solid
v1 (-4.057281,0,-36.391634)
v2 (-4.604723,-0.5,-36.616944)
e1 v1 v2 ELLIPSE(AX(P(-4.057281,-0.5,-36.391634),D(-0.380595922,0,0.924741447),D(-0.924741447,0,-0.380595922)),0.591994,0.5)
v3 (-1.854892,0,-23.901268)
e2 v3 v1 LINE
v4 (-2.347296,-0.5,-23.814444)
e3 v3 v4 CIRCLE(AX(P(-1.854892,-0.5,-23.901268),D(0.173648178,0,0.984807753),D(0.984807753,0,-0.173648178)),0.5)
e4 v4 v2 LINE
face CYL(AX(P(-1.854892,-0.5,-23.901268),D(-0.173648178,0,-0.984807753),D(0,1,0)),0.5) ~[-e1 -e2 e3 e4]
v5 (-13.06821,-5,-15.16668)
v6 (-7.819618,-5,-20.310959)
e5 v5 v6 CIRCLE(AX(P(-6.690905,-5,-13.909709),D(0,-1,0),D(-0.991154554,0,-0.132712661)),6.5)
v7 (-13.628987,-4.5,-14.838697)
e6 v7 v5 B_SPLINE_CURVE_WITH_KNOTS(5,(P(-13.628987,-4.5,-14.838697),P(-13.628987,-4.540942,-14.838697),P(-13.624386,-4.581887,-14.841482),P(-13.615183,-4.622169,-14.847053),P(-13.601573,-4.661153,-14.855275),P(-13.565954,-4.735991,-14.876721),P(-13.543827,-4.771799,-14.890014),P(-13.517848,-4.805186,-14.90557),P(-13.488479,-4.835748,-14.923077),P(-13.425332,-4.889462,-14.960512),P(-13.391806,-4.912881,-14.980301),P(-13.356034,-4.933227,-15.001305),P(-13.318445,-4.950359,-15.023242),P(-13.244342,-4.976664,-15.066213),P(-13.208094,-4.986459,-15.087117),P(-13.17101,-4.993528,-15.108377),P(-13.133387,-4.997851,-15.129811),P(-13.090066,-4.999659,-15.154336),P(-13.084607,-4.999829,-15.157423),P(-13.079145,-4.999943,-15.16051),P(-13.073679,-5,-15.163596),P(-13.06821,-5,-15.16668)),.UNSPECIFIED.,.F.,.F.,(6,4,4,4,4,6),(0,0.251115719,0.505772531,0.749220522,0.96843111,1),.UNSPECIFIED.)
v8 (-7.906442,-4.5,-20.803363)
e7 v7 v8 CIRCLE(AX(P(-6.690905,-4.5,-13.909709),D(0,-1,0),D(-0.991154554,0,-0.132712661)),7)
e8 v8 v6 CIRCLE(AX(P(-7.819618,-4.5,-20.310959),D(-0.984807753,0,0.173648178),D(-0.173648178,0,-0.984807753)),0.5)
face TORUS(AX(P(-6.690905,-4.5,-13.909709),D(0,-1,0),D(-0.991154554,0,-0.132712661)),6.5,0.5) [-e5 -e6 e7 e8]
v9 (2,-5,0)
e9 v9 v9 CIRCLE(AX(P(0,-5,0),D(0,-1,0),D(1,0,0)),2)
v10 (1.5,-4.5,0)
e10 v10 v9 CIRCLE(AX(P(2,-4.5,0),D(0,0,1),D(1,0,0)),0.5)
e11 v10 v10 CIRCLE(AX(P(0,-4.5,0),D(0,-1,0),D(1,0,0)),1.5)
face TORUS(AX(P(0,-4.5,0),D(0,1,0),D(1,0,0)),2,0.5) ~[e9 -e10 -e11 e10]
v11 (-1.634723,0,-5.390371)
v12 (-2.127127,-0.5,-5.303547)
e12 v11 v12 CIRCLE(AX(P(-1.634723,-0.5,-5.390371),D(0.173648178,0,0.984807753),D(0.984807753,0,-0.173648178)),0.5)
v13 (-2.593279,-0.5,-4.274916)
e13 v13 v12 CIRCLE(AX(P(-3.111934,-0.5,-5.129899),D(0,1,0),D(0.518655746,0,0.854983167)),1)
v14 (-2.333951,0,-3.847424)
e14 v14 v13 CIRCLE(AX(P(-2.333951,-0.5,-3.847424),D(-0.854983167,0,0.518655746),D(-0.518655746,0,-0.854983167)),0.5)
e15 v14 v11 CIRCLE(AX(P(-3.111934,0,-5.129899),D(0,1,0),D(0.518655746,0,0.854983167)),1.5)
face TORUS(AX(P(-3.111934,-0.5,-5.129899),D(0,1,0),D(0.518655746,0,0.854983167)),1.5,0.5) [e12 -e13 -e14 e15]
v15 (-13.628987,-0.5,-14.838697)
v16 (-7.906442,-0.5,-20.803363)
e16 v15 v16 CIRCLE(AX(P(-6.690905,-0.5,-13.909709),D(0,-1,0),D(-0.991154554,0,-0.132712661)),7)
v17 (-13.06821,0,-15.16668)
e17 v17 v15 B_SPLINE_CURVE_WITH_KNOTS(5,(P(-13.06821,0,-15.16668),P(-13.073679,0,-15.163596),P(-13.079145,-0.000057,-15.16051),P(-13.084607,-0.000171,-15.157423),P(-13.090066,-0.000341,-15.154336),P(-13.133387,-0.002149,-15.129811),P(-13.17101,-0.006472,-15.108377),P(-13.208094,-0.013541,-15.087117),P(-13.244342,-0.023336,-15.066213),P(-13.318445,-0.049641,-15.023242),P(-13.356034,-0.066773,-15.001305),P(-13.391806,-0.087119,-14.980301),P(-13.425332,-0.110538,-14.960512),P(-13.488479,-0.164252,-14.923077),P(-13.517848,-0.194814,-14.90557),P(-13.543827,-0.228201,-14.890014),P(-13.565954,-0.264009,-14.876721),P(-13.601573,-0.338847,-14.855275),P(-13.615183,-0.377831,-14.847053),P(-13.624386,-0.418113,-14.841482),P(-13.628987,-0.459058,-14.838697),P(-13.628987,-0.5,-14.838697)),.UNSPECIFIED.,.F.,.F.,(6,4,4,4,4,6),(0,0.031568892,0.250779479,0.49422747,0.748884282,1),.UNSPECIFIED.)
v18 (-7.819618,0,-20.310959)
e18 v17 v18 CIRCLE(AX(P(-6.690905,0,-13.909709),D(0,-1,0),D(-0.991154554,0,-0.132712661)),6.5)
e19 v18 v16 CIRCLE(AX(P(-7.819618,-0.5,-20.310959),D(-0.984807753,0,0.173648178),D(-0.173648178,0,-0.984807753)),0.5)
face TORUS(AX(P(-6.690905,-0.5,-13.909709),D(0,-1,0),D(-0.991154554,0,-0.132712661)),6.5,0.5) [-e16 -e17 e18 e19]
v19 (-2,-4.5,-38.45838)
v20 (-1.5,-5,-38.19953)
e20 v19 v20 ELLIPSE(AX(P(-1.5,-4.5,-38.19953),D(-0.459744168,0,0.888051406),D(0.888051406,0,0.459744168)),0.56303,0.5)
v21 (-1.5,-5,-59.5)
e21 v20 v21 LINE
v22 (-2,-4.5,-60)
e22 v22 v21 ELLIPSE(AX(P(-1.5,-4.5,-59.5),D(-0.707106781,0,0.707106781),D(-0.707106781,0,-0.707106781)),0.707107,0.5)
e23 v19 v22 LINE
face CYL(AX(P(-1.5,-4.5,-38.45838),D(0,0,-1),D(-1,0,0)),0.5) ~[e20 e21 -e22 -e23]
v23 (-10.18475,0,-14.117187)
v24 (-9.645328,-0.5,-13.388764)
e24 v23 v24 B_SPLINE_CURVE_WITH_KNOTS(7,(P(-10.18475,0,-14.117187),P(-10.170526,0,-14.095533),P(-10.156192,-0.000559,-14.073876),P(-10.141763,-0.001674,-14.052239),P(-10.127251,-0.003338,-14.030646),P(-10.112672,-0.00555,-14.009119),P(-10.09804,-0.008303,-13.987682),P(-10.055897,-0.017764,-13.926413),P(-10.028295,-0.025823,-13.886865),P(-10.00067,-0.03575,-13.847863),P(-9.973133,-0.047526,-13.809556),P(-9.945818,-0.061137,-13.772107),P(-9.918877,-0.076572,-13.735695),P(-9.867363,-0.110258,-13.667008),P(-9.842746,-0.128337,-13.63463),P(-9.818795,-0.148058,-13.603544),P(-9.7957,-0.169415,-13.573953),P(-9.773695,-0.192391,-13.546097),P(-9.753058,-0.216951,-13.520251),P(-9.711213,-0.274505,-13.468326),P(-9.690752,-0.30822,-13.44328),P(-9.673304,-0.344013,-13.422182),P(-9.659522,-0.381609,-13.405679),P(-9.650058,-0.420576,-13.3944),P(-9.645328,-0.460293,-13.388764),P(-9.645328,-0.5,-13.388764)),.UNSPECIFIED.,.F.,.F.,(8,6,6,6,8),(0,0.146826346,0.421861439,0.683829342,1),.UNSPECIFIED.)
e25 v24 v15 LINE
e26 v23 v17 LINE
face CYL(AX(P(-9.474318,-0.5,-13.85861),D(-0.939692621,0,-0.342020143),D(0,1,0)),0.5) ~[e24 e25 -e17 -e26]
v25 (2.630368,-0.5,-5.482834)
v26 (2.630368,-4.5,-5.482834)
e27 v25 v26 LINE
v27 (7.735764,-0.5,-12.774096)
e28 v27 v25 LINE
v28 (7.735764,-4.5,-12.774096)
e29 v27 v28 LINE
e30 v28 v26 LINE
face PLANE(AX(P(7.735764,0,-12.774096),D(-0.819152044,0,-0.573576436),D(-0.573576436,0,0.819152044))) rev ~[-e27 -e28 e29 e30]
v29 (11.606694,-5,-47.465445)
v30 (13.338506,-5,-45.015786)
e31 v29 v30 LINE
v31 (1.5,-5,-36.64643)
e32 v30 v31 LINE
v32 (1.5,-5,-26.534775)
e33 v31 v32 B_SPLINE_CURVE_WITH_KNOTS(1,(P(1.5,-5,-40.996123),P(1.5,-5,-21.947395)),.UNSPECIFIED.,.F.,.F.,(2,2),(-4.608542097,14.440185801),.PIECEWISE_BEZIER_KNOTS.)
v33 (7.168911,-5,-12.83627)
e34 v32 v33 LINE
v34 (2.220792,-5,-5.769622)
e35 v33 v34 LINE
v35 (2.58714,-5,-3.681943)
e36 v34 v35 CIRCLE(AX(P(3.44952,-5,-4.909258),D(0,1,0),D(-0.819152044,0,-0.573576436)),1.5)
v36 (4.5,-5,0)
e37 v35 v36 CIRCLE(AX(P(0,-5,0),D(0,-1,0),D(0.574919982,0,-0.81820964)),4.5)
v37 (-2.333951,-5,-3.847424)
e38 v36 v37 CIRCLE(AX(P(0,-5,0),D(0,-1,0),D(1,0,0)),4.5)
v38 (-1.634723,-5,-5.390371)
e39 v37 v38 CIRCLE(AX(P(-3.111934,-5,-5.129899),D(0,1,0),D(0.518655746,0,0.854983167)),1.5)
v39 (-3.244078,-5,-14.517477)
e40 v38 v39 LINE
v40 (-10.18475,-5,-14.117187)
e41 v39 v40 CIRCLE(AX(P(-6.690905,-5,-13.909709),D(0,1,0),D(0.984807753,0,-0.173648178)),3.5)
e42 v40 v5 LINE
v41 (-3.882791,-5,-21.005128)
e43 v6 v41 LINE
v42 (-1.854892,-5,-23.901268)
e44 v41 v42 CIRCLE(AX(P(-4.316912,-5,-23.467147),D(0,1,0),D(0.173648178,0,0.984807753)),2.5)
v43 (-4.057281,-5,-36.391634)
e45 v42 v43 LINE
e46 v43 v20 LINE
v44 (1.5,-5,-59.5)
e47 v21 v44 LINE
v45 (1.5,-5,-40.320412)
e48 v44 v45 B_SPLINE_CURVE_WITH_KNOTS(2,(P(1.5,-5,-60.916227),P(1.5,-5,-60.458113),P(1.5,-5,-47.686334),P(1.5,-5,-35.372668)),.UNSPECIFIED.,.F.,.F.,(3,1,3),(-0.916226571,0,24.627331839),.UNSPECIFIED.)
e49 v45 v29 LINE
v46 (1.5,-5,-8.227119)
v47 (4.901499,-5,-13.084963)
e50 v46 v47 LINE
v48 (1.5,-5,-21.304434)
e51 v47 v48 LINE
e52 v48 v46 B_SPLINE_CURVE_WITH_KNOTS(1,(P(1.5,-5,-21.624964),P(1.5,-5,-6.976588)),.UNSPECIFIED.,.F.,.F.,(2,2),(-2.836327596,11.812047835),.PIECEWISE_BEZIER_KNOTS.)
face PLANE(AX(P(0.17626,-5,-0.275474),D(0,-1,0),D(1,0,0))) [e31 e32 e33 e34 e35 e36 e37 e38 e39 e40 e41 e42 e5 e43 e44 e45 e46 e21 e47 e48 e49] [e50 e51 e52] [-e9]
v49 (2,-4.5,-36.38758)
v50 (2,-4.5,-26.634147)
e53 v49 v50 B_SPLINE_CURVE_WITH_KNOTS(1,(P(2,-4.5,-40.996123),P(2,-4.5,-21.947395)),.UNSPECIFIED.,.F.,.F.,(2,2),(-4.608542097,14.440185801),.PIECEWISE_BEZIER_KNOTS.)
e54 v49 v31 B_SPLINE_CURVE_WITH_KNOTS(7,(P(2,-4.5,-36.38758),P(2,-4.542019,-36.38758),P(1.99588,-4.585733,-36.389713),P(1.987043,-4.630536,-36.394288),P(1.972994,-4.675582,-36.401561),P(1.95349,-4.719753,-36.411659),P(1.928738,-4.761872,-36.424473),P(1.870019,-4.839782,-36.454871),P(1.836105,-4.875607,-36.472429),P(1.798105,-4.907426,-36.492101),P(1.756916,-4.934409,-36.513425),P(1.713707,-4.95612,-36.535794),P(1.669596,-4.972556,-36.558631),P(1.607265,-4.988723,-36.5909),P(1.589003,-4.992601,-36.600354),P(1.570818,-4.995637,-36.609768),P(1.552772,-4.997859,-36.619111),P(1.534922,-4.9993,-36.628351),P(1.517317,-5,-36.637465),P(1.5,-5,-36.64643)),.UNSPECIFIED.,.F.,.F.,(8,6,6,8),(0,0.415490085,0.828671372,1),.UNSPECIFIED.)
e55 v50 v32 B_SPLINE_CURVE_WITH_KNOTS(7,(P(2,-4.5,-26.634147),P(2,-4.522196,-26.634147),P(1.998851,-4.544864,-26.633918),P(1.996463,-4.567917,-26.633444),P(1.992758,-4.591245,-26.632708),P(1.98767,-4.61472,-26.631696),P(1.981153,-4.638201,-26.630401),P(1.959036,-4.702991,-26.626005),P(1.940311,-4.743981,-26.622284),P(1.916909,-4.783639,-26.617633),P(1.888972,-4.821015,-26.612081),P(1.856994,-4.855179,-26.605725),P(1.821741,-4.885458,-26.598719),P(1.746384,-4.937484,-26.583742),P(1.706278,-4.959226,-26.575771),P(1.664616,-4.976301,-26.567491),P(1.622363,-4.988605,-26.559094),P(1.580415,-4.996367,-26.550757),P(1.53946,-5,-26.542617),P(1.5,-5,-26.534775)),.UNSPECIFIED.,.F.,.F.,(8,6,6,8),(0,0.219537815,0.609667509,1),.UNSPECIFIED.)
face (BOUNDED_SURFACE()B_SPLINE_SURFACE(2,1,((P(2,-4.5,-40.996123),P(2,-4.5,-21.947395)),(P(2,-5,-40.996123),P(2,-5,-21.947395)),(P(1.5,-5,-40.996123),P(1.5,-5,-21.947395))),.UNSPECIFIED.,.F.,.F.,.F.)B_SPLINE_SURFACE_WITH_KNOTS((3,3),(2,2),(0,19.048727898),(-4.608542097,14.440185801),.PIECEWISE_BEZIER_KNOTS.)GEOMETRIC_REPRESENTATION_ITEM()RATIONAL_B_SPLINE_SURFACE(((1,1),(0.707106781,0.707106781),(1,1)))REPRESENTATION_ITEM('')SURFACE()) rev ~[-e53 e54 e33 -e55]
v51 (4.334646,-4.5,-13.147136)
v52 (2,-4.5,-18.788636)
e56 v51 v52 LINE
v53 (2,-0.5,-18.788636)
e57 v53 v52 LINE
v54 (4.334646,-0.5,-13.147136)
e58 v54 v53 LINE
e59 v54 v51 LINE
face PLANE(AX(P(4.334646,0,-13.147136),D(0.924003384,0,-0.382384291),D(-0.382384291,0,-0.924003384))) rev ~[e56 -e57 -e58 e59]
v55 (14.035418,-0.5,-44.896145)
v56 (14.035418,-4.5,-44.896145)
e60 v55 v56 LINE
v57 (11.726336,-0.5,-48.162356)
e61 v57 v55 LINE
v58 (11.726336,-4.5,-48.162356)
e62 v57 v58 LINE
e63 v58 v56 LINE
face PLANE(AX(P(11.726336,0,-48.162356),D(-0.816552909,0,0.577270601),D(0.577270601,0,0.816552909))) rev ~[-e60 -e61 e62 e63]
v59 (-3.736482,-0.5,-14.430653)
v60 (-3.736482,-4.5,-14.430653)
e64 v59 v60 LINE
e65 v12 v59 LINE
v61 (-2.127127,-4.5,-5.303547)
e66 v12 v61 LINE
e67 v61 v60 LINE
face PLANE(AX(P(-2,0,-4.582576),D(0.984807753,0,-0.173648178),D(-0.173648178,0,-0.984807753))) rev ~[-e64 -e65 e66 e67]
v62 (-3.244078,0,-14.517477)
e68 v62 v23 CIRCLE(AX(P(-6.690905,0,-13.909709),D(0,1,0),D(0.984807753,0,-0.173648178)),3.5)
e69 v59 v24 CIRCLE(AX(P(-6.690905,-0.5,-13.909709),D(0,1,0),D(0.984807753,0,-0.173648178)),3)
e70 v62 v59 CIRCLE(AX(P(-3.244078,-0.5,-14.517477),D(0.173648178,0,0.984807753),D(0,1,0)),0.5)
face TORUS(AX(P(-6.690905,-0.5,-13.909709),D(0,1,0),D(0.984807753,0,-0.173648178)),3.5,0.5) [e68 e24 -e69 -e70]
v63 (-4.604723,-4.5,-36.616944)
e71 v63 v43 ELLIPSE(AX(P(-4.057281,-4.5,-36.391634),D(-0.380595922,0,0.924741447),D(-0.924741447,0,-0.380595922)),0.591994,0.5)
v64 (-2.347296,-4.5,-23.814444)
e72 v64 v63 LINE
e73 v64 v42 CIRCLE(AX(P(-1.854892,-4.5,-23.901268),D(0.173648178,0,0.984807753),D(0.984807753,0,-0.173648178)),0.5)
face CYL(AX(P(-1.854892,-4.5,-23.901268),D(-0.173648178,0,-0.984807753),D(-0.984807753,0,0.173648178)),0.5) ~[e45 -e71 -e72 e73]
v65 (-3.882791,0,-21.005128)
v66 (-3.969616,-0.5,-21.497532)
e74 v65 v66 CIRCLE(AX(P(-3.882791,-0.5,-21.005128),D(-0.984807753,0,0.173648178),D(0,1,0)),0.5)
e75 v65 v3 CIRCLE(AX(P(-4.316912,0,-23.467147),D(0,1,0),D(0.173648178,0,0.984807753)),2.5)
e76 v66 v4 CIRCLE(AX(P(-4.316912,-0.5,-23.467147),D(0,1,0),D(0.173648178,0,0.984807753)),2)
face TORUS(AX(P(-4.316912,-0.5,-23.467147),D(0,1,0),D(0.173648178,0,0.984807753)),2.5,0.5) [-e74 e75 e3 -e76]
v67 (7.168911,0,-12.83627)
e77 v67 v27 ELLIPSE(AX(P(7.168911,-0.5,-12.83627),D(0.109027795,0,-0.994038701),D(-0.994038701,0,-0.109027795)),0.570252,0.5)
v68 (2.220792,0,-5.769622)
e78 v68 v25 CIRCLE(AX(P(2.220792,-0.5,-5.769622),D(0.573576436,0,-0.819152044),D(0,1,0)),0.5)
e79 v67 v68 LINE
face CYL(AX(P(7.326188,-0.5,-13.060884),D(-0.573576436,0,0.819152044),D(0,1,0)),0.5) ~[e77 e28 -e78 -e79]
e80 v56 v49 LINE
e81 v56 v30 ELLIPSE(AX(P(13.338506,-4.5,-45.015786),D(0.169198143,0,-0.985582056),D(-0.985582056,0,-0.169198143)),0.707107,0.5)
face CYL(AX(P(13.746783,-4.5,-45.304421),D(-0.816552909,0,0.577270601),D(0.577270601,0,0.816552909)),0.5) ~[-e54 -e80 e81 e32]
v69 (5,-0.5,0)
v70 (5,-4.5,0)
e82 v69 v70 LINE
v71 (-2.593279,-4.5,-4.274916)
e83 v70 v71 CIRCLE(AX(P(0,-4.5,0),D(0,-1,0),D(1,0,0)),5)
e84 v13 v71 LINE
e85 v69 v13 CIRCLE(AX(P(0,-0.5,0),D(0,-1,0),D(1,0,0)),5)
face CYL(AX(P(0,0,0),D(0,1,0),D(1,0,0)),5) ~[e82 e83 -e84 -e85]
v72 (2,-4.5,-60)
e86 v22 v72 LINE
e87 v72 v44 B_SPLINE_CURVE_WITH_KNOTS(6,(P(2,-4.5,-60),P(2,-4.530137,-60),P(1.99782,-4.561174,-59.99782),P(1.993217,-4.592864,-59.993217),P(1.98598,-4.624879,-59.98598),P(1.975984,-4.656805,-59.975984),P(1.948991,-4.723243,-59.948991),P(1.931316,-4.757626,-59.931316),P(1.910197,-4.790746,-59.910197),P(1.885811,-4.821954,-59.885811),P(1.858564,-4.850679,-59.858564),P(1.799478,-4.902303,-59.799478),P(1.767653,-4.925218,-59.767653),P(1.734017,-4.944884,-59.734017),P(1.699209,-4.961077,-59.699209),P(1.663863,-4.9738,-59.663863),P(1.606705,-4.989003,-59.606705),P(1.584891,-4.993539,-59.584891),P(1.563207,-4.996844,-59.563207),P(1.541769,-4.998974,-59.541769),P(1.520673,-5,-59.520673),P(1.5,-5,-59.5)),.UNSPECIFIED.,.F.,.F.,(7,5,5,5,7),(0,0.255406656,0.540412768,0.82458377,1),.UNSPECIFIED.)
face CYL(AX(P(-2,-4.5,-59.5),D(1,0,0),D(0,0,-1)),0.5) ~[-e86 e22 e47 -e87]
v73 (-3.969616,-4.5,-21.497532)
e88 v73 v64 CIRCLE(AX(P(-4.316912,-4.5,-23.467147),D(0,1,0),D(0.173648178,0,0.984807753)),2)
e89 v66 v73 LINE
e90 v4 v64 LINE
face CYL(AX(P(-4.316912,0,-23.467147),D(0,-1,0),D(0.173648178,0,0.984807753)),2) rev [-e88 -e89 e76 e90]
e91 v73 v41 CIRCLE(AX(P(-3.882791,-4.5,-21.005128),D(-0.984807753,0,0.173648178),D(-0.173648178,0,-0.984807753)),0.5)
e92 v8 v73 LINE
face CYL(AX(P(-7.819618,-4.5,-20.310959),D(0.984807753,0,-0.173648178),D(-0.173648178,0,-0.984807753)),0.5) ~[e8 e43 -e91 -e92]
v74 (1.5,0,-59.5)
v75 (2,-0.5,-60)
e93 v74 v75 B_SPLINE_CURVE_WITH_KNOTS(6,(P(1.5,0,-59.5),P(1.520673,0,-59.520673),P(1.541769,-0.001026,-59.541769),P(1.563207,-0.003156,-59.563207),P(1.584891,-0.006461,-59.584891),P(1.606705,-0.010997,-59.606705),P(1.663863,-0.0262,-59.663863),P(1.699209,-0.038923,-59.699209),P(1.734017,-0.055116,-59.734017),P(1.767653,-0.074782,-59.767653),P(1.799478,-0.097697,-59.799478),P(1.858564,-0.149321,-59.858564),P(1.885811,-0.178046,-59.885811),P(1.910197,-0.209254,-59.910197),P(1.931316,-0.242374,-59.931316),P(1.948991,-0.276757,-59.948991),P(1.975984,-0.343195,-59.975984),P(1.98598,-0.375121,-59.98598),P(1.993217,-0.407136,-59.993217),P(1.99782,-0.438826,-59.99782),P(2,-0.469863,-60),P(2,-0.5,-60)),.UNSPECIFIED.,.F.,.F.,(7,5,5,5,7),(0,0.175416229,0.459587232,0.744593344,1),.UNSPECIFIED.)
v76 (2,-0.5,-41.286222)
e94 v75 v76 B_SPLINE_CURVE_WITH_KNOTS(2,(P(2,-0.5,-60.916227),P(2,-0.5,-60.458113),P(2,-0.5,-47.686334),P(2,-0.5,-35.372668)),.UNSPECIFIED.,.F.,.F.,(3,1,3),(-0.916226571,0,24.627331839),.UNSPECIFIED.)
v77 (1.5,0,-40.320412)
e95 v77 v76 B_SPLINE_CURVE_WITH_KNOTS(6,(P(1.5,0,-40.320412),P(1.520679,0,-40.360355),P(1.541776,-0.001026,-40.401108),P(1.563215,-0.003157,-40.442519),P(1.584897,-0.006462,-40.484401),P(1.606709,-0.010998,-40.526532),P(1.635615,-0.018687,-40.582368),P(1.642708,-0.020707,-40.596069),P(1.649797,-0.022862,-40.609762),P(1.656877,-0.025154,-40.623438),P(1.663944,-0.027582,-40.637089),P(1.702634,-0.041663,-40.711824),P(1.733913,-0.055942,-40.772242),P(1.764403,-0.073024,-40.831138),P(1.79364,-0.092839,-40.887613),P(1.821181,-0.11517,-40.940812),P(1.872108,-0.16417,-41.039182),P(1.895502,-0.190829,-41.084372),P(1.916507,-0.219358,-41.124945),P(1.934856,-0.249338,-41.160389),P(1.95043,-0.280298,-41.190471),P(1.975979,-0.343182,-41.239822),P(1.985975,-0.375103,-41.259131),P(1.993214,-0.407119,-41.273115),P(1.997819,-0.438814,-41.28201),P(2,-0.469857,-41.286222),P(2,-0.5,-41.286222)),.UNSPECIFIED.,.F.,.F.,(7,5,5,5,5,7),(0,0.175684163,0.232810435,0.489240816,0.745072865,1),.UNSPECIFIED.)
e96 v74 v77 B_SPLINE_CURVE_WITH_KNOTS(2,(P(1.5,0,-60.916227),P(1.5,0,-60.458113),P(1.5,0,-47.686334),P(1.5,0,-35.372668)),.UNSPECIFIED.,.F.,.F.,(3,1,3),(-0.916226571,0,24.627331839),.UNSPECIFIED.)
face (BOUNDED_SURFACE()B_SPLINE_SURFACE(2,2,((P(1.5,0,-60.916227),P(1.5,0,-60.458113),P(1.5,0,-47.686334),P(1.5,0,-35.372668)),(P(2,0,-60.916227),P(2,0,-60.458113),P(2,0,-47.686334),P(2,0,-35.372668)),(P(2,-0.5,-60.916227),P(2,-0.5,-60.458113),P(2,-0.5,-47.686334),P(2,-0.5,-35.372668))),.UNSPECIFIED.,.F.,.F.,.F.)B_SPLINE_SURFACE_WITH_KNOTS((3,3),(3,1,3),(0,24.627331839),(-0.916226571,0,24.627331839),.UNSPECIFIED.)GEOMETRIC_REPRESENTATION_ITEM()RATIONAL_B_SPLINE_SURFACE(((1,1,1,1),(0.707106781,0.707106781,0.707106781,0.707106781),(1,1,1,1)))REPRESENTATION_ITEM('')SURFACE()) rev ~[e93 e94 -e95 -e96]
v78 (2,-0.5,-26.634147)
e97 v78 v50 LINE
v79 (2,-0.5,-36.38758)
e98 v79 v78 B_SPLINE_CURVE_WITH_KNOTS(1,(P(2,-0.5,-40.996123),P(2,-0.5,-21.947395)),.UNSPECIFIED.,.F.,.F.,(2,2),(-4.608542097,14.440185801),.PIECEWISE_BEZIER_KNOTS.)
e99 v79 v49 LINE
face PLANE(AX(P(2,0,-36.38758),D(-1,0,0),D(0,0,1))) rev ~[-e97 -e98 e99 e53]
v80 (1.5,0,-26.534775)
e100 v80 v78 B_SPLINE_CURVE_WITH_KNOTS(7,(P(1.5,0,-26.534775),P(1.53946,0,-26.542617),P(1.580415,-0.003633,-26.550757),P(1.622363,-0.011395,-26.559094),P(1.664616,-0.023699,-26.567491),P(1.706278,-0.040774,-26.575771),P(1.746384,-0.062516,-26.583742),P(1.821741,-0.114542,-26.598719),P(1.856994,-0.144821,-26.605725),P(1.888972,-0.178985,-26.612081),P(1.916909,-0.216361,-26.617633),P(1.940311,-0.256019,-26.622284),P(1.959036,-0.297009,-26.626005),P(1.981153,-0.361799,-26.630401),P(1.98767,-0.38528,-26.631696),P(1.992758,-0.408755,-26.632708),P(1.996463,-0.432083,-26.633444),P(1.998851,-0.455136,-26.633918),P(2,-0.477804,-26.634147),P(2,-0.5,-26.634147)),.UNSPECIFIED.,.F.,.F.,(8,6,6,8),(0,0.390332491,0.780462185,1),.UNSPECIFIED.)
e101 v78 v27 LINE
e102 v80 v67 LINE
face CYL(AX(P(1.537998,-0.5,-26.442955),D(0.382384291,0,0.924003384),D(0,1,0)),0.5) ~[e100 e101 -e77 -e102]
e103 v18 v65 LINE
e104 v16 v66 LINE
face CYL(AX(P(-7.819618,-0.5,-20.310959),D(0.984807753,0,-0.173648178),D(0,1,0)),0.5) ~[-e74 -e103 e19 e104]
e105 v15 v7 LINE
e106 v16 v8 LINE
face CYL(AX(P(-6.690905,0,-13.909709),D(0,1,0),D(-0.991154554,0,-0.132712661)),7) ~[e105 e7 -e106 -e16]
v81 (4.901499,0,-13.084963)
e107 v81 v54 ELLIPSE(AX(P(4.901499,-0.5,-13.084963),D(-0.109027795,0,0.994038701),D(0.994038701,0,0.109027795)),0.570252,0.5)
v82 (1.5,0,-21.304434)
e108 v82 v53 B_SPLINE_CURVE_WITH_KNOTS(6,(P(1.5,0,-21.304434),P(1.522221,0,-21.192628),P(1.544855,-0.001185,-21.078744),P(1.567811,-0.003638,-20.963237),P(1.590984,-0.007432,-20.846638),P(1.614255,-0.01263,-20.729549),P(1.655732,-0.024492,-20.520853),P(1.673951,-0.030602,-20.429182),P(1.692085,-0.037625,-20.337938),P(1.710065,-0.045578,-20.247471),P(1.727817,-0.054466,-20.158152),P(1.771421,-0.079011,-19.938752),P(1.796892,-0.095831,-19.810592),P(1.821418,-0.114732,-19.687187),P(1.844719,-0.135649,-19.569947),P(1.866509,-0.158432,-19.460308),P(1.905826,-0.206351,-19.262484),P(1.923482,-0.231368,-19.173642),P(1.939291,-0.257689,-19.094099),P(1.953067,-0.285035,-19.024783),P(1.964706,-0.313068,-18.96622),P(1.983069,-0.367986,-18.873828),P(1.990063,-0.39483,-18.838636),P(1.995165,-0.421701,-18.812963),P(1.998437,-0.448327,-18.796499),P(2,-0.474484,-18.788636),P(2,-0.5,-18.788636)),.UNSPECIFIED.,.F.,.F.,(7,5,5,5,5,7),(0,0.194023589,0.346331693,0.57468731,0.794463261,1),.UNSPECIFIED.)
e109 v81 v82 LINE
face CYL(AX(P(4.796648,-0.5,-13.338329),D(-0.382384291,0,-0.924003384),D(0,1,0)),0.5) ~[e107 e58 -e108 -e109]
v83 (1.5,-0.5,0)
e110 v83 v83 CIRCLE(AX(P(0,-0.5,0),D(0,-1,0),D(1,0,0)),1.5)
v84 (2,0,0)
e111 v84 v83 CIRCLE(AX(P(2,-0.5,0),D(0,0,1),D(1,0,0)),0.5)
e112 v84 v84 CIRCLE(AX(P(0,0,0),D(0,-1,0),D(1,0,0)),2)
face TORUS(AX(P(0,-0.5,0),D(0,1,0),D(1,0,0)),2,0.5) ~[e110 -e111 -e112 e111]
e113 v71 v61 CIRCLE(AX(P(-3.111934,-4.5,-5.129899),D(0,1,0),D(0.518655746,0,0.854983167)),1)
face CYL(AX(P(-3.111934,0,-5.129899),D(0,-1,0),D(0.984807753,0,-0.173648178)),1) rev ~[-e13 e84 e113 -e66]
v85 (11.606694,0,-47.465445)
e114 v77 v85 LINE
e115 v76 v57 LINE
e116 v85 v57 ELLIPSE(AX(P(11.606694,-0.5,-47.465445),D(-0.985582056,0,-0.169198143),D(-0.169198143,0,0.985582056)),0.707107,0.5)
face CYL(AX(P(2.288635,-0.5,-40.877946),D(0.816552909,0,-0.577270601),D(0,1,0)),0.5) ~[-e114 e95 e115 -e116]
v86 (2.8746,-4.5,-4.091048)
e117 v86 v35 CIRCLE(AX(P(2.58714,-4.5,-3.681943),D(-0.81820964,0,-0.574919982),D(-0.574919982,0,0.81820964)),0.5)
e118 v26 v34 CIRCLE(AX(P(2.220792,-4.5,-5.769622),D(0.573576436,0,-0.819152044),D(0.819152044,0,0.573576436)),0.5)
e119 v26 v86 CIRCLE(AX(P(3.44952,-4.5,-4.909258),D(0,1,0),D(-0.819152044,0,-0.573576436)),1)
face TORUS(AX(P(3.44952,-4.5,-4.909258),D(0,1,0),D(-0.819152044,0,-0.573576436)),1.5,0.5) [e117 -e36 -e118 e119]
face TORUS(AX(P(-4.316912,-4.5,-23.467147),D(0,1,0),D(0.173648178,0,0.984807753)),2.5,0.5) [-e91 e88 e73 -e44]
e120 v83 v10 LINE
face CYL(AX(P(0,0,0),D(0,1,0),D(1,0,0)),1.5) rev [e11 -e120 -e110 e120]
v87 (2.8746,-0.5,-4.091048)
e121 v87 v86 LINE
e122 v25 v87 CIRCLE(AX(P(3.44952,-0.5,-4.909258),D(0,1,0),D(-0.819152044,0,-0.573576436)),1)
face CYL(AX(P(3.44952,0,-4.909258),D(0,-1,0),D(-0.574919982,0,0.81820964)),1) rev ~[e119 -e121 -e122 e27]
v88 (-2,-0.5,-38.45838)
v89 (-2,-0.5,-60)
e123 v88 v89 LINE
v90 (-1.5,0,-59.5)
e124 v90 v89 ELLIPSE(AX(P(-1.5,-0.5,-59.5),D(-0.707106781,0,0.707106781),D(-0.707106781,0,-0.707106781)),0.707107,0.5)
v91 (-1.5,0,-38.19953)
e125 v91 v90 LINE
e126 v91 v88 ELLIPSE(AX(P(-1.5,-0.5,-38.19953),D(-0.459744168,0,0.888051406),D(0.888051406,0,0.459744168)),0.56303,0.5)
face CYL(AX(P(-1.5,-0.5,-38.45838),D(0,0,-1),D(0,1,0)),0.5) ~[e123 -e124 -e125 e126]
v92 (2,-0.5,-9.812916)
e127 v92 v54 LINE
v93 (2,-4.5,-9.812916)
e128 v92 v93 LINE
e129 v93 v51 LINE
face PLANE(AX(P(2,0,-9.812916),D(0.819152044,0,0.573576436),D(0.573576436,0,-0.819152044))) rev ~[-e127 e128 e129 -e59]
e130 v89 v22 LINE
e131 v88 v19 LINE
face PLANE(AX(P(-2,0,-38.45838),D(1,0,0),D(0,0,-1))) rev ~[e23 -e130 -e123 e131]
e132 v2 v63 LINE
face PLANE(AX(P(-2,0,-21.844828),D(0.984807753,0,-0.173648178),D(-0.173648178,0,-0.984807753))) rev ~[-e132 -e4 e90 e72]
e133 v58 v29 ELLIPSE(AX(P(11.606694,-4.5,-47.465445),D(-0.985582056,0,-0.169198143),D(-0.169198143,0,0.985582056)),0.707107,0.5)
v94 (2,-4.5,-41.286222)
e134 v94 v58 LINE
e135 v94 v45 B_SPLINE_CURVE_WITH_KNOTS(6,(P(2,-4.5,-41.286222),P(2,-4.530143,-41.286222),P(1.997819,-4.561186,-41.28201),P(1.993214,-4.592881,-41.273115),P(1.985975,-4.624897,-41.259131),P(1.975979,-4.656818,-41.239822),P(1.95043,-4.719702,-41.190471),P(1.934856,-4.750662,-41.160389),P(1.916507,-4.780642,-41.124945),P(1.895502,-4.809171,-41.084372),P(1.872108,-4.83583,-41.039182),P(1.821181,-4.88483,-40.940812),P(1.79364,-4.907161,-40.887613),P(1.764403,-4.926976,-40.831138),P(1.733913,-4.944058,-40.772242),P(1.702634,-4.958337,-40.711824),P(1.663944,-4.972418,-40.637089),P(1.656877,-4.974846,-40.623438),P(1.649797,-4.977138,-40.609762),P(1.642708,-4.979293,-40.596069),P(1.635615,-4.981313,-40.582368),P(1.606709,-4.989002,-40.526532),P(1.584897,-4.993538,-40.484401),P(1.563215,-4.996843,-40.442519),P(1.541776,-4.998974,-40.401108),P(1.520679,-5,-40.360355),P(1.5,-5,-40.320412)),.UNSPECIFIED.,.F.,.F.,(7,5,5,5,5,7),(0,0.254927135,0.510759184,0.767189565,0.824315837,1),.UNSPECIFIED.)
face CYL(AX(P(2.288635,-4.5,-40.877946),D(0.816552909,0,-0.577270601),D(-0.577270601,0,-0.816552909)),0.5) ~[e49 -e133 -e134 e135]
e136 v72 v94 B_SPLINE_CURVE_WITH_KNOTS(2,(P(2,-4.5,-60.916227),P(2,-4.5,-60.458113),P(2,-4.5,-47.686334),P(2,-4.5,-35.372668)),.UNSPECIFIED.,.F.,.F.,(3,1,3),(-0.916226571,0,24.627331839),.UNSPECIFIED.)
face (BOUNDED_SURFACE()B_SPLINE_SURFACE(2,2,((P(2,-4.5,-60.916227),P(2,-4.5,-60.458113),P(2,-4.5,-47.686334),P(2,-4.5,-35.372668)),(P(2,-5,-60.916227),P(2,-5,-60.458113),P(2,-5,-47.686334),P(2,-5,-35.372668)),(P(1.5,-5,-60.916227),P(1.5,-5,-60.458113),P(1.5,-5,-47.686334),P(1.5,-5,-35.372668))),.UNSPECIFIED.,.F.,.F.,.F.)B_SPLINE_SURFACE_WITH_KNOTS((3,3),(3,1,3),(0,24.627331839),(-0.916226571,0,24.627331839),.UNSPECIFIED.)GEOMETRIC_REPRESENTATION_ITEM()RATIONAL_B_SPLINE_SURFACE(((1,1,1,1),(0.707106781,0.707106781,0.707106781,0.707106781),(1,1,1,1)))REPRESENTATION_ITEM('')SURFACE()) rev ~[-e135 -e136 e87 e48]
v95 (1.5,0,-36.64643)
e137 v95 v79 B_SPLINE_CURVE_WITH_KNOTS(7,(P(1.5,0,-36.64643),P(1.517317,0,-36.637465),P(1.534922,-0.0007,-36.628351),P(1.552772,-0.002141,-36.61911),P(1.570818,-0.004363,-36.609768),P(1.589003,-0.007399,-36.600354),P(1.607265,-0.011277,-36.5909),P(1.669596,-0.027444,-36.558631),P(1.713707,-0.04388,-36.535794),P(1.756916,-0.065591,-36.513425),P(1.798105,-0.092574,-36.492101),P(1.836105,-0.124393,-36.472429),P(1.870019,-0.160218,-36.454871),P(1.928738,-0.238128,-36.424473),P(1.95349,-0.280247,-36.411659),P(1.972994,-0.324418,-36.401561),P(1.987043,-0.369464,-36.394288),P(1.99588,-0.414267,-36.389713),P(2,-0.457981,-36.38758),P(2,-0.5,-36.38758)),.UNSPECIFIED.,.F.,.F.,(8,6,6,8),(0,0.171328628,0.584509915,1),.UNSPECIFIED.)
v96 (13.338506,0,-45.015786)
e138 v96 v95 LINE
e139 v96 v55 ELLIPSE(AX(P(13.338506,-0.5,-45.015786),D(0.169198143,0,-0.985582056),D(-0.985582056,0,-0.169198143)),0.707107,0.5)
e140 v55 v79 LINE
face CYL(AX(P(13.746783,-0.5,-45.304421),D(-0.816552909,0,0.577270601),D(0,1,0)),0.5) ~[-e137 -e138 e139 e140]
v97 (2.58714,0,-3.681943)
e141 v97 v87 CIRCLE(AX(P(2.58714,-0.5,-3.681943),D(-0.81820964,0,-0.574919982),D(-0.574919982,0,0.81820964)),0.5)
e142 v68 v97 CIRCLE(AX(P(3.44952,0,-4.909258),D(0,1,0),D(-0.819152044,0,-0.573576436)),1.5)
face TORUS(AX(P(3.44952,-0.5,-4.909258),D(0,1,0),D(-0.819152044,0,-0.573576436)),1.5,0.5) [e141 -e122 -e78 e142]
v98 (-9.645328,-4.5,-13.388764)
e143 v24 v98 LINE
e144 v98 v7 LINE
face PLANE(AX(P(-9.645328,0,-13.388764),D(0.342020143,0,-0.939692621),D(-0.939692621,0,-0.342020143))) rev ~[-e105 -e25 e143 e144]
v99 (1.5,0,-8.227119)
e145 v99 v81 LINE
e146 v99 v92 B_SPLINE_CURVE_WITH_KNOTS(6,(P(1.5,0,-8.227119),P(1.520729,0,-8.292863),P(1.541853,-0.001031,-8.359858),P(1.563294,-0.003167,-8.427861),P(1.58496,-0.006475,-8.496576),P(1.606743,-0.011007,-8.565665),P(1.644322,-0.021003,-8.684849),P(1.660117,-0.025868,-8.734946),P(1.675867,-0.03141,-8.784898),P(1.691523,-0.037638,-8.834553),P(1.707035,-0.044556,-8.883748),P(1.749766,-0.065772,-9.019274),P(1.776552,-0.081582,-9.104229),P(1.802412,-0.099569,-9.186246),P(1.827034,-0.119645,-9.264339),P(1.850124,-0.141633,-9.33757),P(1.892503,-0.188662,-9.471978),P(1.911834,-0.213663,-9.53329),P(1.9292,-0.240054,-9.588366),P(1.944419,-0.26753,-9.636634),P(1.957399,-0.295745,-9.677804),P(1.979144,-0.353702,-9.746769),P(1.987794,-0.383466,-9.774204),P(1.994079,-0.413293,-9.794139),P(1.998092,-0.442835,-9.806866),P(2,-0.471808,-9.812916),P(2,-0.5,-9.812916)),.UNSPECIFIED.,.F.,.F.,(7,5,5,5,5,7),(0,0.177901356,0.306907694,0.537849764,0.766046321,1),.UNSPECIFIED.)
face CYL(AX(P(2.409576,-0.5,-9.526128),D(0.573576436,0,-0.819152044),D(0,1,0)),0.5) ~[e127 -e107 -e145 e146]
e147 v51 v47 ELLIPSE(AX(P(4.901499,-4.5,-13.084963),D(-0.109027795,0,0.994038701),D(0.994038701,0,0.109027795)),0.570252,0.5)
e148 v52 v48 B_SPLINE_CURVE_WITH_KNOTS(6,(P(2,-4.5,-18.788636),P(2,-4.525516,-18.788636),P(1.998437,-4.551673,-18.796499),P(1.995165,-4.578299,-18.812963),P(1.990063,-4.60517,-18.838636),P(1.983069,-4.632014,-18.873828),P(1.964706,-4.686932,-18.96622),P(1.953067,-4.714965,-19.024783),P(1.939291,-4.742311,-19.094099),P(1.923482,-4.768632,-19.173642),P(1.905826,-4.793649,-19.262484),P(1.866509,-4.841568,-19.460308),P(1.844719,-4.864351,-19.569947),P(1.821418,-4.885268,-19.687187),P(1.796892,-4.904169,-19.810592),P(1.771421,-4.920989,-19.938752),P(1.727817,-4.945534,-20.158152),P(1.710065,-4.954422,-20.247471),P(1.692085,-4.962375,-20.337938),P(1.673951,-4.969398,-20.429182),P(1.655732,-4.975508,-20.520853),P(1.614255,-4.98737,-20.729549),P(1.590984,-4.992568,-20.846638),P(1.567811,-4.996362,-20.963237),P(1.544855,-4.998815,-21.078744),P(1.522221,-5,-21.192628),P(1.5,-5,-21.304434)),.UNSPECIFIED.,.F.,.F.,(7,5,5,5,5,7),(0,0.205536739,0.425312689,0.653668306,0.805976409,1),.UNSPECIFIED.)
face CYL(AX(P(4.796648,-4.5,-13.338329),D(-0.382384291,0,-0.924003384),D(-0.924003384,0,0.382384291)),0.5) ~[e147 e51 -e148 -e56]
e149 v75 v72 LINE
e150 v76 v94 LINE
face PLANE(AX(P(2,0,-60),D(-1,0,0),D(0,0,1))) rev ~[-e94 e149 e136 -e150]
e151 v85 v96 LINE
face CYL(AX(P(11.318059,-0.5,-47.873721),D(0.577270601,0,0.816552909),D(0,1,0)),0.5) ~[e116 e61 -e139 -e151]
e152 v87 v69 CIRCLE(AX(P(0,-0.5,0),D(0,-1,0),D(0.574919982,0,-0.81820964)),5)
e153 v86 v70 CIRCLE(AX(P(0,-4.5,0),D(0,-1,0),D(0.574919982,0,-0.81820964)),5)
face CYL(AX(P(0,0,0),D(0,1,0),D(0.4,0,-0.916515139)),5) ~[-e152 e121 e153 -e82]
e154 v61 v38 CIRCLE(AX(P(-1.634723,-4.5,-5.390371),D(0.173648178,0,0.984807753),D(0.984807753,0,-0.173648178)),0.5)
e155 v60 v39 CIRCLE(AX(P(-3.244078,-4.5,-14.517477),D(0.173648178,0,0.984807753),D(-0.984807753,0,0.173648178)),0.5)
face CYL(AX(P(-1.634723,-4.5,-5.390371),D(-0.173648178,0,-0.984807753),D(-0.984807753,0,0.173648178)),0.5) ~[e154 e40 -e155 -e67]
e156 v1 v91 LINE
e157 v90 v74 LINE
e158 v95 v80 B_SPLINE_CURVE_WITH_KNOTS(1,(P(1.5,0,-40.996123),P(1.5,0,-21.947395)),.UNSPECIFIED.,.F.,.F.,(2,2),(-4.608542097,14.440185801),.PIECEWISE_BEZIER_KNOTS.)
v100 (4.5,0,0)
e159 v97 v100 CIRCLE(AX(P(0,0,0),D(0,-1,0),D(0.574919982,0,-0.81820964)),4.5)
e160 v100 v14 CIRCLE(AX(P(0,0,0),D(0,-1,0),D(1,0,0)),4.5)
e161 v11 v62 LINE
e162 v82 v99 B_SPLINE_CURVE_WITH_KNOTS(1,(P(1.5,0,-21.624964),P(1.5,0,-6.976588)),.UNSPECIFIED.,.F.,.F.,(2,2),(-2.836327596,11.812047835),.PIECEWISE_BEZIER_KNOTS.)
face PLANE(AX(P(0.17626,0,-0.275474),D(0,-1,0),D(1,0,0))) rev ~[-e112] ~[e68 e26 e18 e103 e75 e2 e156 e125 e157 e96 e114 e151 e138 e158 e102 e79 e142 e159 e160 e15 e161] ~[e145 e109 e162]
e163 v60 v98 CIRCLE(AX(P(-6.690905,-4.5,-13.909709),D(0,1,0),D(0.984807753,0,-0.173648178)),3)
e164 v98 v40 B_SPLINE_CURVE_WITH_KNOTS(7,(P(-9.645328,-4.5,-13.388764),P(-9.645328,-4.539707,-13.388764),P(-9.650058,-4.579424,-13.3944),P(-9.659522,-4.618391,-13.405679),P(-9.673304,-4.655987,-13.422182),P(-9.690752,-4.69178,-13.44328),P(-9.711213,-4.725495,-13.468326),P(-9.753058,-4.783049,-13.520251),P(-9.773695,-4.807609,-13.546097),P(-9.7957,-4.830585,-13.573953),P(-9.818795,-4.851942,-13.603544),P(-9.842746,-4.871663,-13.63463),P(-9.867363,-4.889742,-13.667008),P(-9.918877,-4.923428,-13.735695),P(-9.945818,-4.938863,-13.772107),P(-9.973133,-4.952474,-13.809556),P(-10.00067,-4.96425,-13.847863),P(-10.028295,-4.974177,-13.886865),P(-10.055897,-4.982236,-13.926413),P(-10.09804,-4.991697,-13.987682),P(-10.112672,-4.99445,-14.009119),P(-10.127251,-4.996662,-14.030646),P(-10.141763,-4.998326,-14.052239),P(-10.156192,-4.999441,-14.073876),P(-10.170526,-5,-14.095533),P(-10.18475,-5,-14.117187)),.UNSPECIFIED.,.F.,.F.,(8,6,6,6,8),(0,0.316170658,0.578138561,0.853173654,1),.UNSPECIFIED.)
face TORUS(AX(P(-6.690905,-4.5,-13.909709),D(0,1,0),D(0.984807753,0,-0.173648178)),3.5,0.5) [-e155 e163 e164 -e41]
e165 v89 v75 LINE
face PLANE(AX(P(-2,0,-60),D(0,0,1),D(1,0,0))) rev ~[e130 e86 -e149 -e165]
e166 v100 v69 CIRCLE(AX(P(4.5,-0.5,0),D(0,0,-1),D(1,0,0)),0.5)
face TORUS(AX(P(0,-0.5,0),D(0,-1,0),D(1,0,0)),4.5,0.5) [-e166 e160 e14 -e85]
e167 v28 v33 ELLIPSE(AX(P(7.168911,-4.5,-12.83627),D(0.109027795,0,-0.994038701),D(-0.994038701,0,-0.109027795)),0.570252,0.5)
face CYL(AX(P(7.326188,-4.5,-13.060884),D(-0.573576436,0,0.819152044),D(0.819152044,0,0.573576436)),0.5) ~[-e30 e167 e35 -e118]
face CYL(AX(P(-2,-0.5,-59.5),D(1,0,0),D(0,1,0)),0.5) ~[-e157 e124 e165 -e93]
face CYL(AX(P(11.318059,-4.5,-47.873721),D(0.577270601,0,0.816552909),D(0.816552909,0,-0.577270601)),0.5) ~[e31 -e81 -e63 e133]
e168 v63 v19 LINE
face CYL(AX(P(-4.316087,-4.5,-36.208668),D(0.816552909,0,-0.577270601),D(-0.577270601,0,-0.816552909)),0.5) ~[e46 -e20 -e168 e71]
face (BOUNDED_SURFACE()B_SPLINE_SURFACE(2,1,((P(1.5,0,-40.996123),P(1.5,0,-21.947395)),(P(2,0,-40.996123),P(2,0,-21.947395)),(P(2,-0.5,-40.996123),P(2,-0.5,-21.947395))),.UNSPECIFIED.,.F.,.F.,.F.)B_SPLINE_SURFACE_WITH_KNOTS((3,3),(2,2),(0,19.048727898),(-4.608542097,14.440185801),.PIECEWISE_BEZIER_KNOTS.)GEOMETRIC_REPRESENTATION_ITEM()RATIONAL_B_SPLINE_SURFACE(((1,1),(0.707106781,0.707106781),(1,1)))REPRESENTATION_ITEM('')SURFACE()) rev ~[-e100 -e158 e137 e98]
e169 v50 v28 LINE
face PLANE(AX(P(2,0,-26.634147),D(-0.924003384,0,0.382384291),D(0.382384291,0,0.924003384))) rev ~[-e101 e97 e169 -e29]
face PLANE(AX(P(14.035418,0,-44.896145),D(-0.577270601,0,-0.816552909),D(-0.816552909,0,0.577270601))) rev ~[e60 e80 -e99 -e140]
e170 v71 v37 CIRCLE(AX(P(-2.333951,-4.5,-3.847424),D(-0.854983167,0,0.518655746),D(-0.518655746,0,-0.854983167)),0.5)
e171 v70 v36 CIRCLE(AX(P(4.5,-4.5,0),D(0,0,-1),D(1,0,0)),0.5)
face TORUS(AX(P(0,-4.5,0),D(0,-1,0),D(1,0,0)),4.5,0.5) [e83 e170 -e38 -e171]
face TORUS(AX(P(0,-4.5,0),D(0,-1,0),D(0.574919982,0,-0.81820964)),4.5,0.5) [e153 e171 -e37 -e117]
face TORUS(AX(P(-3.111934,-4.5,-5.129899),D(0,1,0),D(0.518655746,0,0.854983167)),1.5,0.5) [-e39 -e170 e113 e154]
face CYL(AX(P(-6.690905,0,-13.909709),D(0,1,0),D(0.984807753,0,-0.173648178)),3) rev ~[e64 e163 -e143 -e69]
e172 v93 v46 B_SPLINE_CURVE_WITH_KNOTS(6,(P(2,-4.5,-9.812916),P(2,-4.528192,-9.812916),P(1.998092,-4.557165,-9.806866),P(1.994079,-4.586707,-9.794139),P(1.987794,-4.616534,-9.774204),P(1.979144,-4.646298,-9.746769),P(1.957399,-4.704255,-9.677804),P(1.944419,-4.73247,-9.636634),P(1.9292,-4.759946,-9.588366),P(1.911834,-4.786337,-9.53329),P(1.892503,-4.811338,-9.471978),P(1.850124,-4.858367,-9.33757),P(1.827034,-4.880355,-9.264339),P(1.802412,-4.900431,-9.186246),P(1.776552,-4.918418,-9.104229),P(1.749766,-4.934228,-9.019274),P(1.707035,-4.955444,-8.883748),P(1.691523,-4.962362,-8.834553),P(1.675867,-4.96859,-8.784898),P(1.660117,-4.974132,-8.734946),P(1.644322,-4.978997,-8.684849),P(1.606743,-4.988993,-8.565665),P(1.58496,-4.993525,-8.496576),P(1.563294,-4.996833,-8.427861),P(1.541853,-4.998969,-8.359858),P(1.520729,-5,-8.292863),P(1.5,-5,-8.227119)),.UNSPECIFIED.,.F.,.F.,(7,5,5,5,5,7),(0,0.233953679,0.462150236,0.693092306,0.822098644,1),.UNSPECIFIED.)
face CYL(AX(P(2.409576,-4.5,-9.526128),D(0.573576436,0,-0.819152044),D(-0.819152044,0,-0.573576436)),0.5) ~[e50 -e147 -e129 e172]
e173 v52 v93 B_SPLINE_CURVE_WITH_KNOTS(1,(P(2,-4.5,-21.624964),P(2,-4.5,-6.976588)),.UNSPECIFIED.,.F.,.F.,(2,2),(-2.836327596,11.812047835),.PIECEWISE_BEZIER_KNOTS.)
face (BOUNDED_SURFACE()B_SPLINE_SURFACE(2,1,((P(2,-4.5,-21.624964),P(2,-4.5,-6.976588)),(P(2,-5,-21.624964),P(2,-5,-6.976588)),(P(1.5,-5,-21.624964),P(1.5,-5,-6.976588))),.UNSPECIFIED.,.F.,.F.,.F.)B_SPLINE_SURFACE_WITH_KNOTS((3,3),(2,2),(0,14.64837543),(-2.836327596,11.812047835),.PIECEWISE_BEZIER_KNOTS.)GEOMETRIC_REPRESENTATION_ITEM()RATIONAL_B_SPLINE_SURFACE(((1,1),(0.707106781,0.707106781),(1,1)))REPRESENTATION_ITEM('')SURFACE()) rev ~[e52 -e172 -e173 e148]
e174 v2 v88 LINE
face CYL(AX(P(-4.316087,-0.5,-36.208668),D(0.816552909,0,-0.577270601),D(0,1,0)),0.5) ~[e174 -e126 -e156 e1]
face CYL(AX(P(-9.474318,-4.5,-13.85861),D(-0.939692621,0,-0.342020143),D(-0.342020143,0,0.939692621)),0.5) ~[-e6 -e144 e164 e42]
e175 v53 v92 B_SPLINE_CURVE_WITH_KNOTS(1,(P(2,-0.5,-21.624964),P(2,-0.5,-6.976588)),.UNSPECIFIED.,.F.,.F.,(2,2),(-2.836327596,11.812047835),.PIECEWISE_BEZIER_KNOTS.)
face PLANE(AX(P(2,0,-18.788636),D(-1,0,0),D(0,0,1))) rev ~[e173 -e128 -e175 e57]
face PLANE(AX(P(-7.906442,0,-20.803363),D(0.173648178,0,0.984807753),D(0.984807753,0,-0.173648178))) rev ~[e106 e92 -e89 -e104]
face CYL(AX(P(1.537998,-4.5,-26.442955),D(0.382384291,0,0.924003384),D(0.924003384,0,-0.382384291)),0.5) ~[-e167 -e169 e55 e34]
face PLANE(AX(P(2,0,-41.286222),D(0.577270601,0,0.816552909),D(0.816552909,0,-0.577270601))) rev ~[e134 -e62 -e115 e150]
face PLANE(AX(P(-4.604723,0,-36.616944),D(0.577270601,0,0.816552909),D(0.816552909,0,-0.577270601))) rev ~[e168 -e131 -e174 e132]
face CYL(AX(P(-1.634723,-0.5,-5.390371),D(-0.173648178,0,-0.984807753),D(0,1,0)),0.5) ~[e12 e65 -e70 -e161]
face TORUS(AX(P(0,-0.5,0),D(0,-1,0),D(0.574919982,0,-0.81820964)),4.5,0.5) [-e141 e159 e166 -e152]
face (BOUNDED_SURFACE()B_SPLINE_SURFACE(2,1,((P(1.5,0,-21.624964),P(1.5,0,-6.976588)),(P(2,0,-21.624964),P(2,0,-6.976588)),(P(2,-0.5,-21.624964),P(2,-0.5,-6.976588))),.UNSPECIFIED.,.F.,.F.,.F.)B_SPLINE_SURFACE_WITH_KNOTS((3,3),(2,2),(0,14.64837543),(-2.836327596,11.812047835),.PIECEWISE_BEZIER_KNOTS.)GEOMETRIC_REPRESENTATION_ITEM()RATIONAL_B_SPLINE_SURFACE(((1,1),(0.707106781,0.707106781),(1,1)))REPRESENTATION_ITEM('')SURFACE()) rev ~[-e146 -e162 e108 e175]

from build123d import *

# Parameters (mm, degrees)
F0_R     = 1.5
F1_DEPTH = 5
F2_R     = 2
F3_R     = 1
F4_R     = 0.5


with BuildPart() as f1:
    # F0 (on Front) → F1 (new body)
    with BuildSketch(Plane.XZ):
        with BuildLine():
            ThreePointArc((2, -4.582575695), (4.1833001327, -2.7386127875), (5, 0))
            ThreePointArc((5, 0), (-2.7386127875, 4.1833001327), (-2, -4.582575695))
            ThreePointArc((-2, -4.582575695), (0, -5), (2, -4.582575695))
        make_face()
        Circle(F0_R, mode=Mode.SUBTRACT)
        with BuildLine():
            Line((-2, -21.844828097), (-2, -4.582575695))
            Line((-2, -4.582575695), (-3.7364817767, -14.4306532251))
            ThreePointArc((-3.7364817767, -14.4306532251), (-7.2118495687, -16.8641319511), (-9.6453282947, -13.3887641591))
            Line((-9.6453282947, -13.3887641591), (-13.6289869126, -14.8386973194))
            ThreePointArc((-13.6289869126, -14.8386973194), (-11.7421113521, -18.7558736448), (-7.9064422794, -20.8033629632))
            Line((-7.9064422794, -20.8033629632), (-2, -21.844828097))
        make_face()
        with BuildLine():
            ThreePointArc((2, -4.582575695), (0, -5), (-2, -4.582575695))
            Line((-2, -4.582575695), (-2, -21.844828097))
            Line((-2, -21.844828097), (-2, -38.4583802631))
            Line((-2, -38.4583802631), (2, -41.2862220071))
            Line((2, -41.2862220071), (2, -36.387580468))
            Line((2, -36.387580468), (2, -26.6341469013))
            Line((2, -26.6341469013), (2, -18.788636321))
            Line((2, -18.788636321), (2, -9.8129160818))
            Line((2, -9.8129160818), (2, -4.582575695))
        make_face()
        Polygon((7.7357643635, -12.7740961378), (2, -4.582575695), (2, -9.8129160818), (4.3346461712, -13.1471363576), (2, -18.788636321), (2, -26.6341469013), align=None)
        Polygon((-2, -38.4583802631), (-2, -21.844828097), (-4.604722665, -36.6169443922), align=None)
        Polygon((2, -36.387580468), (2, -41.2862220071), (11.7263355193, -48.1623564065), (14.0354179222, -44.8961447697), align=None)
        Polygon((2, -41.2862220071), (-2, -38.4583802631), (-2, -60), (2, -60), align=None)
    extrude(amount=F1_DEPTH)

    # F2
    f2_edges = [f1.edges().sort_by_distance(p)[0] for p in [
        (-2, -2.5, -21.844828),
    ]]
    fillet(f2_edges, radius=F2_R)

    # F3
    f3_edges = [f1.edges().sort_by_distance(p)[0] for p in [
        (-2, -2.5, -4.582576),
        (2, -2.5, -4.582576),
    ]]
    fillet(f3_edges, radius=F3_R)

    # F4
    f4_edges = [f1.edges().sort_by_distance(p)[0] for p in [
        (-2.931804, -5, -9.8671),
        (-2.201099, -5, -4.717129),
        (-7.21185, -5, -16.864132),
        (-0.168039, -5, 4.997175),
        (-11.637158, -5, -14.113731),
        (2.46457, -5, -4.736418),
        (-11.742111, -5, -18.755874),
        (5.183066, -5, -9.128465),
        (-5.938029, -5, -21.150447),
        (4.867882, -5, -19.704122),
        (-2.678608, -5, -22.319994),
        (2, -5, -31.510864),
        (-3.47601, -5, -30.215694),
        (8.017709, -5, -40.641863),
        (-3.302361, -5, -37.537662),
        (12.880877, -5, -46.529251),
        (-2, -5, -49.22919),
        (6.863168, -5, -44.724289),
        (0, -5, -60),
        (2, -5, -50.643111),
        (2, -5, -14.300776),
        (3.167323, -5, -11.480026),
        (3.167323, -5, -15.967886),
        (-1.5, -5, 0),
        (-2.931804, 0, -9.8671),
        (-2.201099, 0, -4.717129),
        (-7.21185, 0, -16.864132),
        (-0.168039, 0, 4.997175),
        (-11.637158, 0, -14.113731),
        (2.46457, 0, -4.736418),
        (-11.742111, 0, -18.755874),
        (5.183066, 0, -9.128465),
        (-5.938029, 0, -21.150447),
        (4.867882, 0, -19.704122),
        (-2.678608, 0, -22.319994),
        (2, 0, -31.510864),
        (-3.47601, 0, -30.215694),
        (8.017709, 0, -40.641863),
        (-3.302361, 0, -37.537662),
        (12.880877, 0, -46.529251),
        (-2, 0, -49.22919),
        (6.863168, 0, -44.724289),
        (0, 0, -60),
        (2, 0, -50.643111),
        (2, 0, -14.300776),
        (3.167323, 0, -11.480026),
        (3.167323, 0, -15.967886),
        (-1.5, 0, 0),
    ]]
    fillet(f4_edges, radius=F4_R)


solid = f1.part
